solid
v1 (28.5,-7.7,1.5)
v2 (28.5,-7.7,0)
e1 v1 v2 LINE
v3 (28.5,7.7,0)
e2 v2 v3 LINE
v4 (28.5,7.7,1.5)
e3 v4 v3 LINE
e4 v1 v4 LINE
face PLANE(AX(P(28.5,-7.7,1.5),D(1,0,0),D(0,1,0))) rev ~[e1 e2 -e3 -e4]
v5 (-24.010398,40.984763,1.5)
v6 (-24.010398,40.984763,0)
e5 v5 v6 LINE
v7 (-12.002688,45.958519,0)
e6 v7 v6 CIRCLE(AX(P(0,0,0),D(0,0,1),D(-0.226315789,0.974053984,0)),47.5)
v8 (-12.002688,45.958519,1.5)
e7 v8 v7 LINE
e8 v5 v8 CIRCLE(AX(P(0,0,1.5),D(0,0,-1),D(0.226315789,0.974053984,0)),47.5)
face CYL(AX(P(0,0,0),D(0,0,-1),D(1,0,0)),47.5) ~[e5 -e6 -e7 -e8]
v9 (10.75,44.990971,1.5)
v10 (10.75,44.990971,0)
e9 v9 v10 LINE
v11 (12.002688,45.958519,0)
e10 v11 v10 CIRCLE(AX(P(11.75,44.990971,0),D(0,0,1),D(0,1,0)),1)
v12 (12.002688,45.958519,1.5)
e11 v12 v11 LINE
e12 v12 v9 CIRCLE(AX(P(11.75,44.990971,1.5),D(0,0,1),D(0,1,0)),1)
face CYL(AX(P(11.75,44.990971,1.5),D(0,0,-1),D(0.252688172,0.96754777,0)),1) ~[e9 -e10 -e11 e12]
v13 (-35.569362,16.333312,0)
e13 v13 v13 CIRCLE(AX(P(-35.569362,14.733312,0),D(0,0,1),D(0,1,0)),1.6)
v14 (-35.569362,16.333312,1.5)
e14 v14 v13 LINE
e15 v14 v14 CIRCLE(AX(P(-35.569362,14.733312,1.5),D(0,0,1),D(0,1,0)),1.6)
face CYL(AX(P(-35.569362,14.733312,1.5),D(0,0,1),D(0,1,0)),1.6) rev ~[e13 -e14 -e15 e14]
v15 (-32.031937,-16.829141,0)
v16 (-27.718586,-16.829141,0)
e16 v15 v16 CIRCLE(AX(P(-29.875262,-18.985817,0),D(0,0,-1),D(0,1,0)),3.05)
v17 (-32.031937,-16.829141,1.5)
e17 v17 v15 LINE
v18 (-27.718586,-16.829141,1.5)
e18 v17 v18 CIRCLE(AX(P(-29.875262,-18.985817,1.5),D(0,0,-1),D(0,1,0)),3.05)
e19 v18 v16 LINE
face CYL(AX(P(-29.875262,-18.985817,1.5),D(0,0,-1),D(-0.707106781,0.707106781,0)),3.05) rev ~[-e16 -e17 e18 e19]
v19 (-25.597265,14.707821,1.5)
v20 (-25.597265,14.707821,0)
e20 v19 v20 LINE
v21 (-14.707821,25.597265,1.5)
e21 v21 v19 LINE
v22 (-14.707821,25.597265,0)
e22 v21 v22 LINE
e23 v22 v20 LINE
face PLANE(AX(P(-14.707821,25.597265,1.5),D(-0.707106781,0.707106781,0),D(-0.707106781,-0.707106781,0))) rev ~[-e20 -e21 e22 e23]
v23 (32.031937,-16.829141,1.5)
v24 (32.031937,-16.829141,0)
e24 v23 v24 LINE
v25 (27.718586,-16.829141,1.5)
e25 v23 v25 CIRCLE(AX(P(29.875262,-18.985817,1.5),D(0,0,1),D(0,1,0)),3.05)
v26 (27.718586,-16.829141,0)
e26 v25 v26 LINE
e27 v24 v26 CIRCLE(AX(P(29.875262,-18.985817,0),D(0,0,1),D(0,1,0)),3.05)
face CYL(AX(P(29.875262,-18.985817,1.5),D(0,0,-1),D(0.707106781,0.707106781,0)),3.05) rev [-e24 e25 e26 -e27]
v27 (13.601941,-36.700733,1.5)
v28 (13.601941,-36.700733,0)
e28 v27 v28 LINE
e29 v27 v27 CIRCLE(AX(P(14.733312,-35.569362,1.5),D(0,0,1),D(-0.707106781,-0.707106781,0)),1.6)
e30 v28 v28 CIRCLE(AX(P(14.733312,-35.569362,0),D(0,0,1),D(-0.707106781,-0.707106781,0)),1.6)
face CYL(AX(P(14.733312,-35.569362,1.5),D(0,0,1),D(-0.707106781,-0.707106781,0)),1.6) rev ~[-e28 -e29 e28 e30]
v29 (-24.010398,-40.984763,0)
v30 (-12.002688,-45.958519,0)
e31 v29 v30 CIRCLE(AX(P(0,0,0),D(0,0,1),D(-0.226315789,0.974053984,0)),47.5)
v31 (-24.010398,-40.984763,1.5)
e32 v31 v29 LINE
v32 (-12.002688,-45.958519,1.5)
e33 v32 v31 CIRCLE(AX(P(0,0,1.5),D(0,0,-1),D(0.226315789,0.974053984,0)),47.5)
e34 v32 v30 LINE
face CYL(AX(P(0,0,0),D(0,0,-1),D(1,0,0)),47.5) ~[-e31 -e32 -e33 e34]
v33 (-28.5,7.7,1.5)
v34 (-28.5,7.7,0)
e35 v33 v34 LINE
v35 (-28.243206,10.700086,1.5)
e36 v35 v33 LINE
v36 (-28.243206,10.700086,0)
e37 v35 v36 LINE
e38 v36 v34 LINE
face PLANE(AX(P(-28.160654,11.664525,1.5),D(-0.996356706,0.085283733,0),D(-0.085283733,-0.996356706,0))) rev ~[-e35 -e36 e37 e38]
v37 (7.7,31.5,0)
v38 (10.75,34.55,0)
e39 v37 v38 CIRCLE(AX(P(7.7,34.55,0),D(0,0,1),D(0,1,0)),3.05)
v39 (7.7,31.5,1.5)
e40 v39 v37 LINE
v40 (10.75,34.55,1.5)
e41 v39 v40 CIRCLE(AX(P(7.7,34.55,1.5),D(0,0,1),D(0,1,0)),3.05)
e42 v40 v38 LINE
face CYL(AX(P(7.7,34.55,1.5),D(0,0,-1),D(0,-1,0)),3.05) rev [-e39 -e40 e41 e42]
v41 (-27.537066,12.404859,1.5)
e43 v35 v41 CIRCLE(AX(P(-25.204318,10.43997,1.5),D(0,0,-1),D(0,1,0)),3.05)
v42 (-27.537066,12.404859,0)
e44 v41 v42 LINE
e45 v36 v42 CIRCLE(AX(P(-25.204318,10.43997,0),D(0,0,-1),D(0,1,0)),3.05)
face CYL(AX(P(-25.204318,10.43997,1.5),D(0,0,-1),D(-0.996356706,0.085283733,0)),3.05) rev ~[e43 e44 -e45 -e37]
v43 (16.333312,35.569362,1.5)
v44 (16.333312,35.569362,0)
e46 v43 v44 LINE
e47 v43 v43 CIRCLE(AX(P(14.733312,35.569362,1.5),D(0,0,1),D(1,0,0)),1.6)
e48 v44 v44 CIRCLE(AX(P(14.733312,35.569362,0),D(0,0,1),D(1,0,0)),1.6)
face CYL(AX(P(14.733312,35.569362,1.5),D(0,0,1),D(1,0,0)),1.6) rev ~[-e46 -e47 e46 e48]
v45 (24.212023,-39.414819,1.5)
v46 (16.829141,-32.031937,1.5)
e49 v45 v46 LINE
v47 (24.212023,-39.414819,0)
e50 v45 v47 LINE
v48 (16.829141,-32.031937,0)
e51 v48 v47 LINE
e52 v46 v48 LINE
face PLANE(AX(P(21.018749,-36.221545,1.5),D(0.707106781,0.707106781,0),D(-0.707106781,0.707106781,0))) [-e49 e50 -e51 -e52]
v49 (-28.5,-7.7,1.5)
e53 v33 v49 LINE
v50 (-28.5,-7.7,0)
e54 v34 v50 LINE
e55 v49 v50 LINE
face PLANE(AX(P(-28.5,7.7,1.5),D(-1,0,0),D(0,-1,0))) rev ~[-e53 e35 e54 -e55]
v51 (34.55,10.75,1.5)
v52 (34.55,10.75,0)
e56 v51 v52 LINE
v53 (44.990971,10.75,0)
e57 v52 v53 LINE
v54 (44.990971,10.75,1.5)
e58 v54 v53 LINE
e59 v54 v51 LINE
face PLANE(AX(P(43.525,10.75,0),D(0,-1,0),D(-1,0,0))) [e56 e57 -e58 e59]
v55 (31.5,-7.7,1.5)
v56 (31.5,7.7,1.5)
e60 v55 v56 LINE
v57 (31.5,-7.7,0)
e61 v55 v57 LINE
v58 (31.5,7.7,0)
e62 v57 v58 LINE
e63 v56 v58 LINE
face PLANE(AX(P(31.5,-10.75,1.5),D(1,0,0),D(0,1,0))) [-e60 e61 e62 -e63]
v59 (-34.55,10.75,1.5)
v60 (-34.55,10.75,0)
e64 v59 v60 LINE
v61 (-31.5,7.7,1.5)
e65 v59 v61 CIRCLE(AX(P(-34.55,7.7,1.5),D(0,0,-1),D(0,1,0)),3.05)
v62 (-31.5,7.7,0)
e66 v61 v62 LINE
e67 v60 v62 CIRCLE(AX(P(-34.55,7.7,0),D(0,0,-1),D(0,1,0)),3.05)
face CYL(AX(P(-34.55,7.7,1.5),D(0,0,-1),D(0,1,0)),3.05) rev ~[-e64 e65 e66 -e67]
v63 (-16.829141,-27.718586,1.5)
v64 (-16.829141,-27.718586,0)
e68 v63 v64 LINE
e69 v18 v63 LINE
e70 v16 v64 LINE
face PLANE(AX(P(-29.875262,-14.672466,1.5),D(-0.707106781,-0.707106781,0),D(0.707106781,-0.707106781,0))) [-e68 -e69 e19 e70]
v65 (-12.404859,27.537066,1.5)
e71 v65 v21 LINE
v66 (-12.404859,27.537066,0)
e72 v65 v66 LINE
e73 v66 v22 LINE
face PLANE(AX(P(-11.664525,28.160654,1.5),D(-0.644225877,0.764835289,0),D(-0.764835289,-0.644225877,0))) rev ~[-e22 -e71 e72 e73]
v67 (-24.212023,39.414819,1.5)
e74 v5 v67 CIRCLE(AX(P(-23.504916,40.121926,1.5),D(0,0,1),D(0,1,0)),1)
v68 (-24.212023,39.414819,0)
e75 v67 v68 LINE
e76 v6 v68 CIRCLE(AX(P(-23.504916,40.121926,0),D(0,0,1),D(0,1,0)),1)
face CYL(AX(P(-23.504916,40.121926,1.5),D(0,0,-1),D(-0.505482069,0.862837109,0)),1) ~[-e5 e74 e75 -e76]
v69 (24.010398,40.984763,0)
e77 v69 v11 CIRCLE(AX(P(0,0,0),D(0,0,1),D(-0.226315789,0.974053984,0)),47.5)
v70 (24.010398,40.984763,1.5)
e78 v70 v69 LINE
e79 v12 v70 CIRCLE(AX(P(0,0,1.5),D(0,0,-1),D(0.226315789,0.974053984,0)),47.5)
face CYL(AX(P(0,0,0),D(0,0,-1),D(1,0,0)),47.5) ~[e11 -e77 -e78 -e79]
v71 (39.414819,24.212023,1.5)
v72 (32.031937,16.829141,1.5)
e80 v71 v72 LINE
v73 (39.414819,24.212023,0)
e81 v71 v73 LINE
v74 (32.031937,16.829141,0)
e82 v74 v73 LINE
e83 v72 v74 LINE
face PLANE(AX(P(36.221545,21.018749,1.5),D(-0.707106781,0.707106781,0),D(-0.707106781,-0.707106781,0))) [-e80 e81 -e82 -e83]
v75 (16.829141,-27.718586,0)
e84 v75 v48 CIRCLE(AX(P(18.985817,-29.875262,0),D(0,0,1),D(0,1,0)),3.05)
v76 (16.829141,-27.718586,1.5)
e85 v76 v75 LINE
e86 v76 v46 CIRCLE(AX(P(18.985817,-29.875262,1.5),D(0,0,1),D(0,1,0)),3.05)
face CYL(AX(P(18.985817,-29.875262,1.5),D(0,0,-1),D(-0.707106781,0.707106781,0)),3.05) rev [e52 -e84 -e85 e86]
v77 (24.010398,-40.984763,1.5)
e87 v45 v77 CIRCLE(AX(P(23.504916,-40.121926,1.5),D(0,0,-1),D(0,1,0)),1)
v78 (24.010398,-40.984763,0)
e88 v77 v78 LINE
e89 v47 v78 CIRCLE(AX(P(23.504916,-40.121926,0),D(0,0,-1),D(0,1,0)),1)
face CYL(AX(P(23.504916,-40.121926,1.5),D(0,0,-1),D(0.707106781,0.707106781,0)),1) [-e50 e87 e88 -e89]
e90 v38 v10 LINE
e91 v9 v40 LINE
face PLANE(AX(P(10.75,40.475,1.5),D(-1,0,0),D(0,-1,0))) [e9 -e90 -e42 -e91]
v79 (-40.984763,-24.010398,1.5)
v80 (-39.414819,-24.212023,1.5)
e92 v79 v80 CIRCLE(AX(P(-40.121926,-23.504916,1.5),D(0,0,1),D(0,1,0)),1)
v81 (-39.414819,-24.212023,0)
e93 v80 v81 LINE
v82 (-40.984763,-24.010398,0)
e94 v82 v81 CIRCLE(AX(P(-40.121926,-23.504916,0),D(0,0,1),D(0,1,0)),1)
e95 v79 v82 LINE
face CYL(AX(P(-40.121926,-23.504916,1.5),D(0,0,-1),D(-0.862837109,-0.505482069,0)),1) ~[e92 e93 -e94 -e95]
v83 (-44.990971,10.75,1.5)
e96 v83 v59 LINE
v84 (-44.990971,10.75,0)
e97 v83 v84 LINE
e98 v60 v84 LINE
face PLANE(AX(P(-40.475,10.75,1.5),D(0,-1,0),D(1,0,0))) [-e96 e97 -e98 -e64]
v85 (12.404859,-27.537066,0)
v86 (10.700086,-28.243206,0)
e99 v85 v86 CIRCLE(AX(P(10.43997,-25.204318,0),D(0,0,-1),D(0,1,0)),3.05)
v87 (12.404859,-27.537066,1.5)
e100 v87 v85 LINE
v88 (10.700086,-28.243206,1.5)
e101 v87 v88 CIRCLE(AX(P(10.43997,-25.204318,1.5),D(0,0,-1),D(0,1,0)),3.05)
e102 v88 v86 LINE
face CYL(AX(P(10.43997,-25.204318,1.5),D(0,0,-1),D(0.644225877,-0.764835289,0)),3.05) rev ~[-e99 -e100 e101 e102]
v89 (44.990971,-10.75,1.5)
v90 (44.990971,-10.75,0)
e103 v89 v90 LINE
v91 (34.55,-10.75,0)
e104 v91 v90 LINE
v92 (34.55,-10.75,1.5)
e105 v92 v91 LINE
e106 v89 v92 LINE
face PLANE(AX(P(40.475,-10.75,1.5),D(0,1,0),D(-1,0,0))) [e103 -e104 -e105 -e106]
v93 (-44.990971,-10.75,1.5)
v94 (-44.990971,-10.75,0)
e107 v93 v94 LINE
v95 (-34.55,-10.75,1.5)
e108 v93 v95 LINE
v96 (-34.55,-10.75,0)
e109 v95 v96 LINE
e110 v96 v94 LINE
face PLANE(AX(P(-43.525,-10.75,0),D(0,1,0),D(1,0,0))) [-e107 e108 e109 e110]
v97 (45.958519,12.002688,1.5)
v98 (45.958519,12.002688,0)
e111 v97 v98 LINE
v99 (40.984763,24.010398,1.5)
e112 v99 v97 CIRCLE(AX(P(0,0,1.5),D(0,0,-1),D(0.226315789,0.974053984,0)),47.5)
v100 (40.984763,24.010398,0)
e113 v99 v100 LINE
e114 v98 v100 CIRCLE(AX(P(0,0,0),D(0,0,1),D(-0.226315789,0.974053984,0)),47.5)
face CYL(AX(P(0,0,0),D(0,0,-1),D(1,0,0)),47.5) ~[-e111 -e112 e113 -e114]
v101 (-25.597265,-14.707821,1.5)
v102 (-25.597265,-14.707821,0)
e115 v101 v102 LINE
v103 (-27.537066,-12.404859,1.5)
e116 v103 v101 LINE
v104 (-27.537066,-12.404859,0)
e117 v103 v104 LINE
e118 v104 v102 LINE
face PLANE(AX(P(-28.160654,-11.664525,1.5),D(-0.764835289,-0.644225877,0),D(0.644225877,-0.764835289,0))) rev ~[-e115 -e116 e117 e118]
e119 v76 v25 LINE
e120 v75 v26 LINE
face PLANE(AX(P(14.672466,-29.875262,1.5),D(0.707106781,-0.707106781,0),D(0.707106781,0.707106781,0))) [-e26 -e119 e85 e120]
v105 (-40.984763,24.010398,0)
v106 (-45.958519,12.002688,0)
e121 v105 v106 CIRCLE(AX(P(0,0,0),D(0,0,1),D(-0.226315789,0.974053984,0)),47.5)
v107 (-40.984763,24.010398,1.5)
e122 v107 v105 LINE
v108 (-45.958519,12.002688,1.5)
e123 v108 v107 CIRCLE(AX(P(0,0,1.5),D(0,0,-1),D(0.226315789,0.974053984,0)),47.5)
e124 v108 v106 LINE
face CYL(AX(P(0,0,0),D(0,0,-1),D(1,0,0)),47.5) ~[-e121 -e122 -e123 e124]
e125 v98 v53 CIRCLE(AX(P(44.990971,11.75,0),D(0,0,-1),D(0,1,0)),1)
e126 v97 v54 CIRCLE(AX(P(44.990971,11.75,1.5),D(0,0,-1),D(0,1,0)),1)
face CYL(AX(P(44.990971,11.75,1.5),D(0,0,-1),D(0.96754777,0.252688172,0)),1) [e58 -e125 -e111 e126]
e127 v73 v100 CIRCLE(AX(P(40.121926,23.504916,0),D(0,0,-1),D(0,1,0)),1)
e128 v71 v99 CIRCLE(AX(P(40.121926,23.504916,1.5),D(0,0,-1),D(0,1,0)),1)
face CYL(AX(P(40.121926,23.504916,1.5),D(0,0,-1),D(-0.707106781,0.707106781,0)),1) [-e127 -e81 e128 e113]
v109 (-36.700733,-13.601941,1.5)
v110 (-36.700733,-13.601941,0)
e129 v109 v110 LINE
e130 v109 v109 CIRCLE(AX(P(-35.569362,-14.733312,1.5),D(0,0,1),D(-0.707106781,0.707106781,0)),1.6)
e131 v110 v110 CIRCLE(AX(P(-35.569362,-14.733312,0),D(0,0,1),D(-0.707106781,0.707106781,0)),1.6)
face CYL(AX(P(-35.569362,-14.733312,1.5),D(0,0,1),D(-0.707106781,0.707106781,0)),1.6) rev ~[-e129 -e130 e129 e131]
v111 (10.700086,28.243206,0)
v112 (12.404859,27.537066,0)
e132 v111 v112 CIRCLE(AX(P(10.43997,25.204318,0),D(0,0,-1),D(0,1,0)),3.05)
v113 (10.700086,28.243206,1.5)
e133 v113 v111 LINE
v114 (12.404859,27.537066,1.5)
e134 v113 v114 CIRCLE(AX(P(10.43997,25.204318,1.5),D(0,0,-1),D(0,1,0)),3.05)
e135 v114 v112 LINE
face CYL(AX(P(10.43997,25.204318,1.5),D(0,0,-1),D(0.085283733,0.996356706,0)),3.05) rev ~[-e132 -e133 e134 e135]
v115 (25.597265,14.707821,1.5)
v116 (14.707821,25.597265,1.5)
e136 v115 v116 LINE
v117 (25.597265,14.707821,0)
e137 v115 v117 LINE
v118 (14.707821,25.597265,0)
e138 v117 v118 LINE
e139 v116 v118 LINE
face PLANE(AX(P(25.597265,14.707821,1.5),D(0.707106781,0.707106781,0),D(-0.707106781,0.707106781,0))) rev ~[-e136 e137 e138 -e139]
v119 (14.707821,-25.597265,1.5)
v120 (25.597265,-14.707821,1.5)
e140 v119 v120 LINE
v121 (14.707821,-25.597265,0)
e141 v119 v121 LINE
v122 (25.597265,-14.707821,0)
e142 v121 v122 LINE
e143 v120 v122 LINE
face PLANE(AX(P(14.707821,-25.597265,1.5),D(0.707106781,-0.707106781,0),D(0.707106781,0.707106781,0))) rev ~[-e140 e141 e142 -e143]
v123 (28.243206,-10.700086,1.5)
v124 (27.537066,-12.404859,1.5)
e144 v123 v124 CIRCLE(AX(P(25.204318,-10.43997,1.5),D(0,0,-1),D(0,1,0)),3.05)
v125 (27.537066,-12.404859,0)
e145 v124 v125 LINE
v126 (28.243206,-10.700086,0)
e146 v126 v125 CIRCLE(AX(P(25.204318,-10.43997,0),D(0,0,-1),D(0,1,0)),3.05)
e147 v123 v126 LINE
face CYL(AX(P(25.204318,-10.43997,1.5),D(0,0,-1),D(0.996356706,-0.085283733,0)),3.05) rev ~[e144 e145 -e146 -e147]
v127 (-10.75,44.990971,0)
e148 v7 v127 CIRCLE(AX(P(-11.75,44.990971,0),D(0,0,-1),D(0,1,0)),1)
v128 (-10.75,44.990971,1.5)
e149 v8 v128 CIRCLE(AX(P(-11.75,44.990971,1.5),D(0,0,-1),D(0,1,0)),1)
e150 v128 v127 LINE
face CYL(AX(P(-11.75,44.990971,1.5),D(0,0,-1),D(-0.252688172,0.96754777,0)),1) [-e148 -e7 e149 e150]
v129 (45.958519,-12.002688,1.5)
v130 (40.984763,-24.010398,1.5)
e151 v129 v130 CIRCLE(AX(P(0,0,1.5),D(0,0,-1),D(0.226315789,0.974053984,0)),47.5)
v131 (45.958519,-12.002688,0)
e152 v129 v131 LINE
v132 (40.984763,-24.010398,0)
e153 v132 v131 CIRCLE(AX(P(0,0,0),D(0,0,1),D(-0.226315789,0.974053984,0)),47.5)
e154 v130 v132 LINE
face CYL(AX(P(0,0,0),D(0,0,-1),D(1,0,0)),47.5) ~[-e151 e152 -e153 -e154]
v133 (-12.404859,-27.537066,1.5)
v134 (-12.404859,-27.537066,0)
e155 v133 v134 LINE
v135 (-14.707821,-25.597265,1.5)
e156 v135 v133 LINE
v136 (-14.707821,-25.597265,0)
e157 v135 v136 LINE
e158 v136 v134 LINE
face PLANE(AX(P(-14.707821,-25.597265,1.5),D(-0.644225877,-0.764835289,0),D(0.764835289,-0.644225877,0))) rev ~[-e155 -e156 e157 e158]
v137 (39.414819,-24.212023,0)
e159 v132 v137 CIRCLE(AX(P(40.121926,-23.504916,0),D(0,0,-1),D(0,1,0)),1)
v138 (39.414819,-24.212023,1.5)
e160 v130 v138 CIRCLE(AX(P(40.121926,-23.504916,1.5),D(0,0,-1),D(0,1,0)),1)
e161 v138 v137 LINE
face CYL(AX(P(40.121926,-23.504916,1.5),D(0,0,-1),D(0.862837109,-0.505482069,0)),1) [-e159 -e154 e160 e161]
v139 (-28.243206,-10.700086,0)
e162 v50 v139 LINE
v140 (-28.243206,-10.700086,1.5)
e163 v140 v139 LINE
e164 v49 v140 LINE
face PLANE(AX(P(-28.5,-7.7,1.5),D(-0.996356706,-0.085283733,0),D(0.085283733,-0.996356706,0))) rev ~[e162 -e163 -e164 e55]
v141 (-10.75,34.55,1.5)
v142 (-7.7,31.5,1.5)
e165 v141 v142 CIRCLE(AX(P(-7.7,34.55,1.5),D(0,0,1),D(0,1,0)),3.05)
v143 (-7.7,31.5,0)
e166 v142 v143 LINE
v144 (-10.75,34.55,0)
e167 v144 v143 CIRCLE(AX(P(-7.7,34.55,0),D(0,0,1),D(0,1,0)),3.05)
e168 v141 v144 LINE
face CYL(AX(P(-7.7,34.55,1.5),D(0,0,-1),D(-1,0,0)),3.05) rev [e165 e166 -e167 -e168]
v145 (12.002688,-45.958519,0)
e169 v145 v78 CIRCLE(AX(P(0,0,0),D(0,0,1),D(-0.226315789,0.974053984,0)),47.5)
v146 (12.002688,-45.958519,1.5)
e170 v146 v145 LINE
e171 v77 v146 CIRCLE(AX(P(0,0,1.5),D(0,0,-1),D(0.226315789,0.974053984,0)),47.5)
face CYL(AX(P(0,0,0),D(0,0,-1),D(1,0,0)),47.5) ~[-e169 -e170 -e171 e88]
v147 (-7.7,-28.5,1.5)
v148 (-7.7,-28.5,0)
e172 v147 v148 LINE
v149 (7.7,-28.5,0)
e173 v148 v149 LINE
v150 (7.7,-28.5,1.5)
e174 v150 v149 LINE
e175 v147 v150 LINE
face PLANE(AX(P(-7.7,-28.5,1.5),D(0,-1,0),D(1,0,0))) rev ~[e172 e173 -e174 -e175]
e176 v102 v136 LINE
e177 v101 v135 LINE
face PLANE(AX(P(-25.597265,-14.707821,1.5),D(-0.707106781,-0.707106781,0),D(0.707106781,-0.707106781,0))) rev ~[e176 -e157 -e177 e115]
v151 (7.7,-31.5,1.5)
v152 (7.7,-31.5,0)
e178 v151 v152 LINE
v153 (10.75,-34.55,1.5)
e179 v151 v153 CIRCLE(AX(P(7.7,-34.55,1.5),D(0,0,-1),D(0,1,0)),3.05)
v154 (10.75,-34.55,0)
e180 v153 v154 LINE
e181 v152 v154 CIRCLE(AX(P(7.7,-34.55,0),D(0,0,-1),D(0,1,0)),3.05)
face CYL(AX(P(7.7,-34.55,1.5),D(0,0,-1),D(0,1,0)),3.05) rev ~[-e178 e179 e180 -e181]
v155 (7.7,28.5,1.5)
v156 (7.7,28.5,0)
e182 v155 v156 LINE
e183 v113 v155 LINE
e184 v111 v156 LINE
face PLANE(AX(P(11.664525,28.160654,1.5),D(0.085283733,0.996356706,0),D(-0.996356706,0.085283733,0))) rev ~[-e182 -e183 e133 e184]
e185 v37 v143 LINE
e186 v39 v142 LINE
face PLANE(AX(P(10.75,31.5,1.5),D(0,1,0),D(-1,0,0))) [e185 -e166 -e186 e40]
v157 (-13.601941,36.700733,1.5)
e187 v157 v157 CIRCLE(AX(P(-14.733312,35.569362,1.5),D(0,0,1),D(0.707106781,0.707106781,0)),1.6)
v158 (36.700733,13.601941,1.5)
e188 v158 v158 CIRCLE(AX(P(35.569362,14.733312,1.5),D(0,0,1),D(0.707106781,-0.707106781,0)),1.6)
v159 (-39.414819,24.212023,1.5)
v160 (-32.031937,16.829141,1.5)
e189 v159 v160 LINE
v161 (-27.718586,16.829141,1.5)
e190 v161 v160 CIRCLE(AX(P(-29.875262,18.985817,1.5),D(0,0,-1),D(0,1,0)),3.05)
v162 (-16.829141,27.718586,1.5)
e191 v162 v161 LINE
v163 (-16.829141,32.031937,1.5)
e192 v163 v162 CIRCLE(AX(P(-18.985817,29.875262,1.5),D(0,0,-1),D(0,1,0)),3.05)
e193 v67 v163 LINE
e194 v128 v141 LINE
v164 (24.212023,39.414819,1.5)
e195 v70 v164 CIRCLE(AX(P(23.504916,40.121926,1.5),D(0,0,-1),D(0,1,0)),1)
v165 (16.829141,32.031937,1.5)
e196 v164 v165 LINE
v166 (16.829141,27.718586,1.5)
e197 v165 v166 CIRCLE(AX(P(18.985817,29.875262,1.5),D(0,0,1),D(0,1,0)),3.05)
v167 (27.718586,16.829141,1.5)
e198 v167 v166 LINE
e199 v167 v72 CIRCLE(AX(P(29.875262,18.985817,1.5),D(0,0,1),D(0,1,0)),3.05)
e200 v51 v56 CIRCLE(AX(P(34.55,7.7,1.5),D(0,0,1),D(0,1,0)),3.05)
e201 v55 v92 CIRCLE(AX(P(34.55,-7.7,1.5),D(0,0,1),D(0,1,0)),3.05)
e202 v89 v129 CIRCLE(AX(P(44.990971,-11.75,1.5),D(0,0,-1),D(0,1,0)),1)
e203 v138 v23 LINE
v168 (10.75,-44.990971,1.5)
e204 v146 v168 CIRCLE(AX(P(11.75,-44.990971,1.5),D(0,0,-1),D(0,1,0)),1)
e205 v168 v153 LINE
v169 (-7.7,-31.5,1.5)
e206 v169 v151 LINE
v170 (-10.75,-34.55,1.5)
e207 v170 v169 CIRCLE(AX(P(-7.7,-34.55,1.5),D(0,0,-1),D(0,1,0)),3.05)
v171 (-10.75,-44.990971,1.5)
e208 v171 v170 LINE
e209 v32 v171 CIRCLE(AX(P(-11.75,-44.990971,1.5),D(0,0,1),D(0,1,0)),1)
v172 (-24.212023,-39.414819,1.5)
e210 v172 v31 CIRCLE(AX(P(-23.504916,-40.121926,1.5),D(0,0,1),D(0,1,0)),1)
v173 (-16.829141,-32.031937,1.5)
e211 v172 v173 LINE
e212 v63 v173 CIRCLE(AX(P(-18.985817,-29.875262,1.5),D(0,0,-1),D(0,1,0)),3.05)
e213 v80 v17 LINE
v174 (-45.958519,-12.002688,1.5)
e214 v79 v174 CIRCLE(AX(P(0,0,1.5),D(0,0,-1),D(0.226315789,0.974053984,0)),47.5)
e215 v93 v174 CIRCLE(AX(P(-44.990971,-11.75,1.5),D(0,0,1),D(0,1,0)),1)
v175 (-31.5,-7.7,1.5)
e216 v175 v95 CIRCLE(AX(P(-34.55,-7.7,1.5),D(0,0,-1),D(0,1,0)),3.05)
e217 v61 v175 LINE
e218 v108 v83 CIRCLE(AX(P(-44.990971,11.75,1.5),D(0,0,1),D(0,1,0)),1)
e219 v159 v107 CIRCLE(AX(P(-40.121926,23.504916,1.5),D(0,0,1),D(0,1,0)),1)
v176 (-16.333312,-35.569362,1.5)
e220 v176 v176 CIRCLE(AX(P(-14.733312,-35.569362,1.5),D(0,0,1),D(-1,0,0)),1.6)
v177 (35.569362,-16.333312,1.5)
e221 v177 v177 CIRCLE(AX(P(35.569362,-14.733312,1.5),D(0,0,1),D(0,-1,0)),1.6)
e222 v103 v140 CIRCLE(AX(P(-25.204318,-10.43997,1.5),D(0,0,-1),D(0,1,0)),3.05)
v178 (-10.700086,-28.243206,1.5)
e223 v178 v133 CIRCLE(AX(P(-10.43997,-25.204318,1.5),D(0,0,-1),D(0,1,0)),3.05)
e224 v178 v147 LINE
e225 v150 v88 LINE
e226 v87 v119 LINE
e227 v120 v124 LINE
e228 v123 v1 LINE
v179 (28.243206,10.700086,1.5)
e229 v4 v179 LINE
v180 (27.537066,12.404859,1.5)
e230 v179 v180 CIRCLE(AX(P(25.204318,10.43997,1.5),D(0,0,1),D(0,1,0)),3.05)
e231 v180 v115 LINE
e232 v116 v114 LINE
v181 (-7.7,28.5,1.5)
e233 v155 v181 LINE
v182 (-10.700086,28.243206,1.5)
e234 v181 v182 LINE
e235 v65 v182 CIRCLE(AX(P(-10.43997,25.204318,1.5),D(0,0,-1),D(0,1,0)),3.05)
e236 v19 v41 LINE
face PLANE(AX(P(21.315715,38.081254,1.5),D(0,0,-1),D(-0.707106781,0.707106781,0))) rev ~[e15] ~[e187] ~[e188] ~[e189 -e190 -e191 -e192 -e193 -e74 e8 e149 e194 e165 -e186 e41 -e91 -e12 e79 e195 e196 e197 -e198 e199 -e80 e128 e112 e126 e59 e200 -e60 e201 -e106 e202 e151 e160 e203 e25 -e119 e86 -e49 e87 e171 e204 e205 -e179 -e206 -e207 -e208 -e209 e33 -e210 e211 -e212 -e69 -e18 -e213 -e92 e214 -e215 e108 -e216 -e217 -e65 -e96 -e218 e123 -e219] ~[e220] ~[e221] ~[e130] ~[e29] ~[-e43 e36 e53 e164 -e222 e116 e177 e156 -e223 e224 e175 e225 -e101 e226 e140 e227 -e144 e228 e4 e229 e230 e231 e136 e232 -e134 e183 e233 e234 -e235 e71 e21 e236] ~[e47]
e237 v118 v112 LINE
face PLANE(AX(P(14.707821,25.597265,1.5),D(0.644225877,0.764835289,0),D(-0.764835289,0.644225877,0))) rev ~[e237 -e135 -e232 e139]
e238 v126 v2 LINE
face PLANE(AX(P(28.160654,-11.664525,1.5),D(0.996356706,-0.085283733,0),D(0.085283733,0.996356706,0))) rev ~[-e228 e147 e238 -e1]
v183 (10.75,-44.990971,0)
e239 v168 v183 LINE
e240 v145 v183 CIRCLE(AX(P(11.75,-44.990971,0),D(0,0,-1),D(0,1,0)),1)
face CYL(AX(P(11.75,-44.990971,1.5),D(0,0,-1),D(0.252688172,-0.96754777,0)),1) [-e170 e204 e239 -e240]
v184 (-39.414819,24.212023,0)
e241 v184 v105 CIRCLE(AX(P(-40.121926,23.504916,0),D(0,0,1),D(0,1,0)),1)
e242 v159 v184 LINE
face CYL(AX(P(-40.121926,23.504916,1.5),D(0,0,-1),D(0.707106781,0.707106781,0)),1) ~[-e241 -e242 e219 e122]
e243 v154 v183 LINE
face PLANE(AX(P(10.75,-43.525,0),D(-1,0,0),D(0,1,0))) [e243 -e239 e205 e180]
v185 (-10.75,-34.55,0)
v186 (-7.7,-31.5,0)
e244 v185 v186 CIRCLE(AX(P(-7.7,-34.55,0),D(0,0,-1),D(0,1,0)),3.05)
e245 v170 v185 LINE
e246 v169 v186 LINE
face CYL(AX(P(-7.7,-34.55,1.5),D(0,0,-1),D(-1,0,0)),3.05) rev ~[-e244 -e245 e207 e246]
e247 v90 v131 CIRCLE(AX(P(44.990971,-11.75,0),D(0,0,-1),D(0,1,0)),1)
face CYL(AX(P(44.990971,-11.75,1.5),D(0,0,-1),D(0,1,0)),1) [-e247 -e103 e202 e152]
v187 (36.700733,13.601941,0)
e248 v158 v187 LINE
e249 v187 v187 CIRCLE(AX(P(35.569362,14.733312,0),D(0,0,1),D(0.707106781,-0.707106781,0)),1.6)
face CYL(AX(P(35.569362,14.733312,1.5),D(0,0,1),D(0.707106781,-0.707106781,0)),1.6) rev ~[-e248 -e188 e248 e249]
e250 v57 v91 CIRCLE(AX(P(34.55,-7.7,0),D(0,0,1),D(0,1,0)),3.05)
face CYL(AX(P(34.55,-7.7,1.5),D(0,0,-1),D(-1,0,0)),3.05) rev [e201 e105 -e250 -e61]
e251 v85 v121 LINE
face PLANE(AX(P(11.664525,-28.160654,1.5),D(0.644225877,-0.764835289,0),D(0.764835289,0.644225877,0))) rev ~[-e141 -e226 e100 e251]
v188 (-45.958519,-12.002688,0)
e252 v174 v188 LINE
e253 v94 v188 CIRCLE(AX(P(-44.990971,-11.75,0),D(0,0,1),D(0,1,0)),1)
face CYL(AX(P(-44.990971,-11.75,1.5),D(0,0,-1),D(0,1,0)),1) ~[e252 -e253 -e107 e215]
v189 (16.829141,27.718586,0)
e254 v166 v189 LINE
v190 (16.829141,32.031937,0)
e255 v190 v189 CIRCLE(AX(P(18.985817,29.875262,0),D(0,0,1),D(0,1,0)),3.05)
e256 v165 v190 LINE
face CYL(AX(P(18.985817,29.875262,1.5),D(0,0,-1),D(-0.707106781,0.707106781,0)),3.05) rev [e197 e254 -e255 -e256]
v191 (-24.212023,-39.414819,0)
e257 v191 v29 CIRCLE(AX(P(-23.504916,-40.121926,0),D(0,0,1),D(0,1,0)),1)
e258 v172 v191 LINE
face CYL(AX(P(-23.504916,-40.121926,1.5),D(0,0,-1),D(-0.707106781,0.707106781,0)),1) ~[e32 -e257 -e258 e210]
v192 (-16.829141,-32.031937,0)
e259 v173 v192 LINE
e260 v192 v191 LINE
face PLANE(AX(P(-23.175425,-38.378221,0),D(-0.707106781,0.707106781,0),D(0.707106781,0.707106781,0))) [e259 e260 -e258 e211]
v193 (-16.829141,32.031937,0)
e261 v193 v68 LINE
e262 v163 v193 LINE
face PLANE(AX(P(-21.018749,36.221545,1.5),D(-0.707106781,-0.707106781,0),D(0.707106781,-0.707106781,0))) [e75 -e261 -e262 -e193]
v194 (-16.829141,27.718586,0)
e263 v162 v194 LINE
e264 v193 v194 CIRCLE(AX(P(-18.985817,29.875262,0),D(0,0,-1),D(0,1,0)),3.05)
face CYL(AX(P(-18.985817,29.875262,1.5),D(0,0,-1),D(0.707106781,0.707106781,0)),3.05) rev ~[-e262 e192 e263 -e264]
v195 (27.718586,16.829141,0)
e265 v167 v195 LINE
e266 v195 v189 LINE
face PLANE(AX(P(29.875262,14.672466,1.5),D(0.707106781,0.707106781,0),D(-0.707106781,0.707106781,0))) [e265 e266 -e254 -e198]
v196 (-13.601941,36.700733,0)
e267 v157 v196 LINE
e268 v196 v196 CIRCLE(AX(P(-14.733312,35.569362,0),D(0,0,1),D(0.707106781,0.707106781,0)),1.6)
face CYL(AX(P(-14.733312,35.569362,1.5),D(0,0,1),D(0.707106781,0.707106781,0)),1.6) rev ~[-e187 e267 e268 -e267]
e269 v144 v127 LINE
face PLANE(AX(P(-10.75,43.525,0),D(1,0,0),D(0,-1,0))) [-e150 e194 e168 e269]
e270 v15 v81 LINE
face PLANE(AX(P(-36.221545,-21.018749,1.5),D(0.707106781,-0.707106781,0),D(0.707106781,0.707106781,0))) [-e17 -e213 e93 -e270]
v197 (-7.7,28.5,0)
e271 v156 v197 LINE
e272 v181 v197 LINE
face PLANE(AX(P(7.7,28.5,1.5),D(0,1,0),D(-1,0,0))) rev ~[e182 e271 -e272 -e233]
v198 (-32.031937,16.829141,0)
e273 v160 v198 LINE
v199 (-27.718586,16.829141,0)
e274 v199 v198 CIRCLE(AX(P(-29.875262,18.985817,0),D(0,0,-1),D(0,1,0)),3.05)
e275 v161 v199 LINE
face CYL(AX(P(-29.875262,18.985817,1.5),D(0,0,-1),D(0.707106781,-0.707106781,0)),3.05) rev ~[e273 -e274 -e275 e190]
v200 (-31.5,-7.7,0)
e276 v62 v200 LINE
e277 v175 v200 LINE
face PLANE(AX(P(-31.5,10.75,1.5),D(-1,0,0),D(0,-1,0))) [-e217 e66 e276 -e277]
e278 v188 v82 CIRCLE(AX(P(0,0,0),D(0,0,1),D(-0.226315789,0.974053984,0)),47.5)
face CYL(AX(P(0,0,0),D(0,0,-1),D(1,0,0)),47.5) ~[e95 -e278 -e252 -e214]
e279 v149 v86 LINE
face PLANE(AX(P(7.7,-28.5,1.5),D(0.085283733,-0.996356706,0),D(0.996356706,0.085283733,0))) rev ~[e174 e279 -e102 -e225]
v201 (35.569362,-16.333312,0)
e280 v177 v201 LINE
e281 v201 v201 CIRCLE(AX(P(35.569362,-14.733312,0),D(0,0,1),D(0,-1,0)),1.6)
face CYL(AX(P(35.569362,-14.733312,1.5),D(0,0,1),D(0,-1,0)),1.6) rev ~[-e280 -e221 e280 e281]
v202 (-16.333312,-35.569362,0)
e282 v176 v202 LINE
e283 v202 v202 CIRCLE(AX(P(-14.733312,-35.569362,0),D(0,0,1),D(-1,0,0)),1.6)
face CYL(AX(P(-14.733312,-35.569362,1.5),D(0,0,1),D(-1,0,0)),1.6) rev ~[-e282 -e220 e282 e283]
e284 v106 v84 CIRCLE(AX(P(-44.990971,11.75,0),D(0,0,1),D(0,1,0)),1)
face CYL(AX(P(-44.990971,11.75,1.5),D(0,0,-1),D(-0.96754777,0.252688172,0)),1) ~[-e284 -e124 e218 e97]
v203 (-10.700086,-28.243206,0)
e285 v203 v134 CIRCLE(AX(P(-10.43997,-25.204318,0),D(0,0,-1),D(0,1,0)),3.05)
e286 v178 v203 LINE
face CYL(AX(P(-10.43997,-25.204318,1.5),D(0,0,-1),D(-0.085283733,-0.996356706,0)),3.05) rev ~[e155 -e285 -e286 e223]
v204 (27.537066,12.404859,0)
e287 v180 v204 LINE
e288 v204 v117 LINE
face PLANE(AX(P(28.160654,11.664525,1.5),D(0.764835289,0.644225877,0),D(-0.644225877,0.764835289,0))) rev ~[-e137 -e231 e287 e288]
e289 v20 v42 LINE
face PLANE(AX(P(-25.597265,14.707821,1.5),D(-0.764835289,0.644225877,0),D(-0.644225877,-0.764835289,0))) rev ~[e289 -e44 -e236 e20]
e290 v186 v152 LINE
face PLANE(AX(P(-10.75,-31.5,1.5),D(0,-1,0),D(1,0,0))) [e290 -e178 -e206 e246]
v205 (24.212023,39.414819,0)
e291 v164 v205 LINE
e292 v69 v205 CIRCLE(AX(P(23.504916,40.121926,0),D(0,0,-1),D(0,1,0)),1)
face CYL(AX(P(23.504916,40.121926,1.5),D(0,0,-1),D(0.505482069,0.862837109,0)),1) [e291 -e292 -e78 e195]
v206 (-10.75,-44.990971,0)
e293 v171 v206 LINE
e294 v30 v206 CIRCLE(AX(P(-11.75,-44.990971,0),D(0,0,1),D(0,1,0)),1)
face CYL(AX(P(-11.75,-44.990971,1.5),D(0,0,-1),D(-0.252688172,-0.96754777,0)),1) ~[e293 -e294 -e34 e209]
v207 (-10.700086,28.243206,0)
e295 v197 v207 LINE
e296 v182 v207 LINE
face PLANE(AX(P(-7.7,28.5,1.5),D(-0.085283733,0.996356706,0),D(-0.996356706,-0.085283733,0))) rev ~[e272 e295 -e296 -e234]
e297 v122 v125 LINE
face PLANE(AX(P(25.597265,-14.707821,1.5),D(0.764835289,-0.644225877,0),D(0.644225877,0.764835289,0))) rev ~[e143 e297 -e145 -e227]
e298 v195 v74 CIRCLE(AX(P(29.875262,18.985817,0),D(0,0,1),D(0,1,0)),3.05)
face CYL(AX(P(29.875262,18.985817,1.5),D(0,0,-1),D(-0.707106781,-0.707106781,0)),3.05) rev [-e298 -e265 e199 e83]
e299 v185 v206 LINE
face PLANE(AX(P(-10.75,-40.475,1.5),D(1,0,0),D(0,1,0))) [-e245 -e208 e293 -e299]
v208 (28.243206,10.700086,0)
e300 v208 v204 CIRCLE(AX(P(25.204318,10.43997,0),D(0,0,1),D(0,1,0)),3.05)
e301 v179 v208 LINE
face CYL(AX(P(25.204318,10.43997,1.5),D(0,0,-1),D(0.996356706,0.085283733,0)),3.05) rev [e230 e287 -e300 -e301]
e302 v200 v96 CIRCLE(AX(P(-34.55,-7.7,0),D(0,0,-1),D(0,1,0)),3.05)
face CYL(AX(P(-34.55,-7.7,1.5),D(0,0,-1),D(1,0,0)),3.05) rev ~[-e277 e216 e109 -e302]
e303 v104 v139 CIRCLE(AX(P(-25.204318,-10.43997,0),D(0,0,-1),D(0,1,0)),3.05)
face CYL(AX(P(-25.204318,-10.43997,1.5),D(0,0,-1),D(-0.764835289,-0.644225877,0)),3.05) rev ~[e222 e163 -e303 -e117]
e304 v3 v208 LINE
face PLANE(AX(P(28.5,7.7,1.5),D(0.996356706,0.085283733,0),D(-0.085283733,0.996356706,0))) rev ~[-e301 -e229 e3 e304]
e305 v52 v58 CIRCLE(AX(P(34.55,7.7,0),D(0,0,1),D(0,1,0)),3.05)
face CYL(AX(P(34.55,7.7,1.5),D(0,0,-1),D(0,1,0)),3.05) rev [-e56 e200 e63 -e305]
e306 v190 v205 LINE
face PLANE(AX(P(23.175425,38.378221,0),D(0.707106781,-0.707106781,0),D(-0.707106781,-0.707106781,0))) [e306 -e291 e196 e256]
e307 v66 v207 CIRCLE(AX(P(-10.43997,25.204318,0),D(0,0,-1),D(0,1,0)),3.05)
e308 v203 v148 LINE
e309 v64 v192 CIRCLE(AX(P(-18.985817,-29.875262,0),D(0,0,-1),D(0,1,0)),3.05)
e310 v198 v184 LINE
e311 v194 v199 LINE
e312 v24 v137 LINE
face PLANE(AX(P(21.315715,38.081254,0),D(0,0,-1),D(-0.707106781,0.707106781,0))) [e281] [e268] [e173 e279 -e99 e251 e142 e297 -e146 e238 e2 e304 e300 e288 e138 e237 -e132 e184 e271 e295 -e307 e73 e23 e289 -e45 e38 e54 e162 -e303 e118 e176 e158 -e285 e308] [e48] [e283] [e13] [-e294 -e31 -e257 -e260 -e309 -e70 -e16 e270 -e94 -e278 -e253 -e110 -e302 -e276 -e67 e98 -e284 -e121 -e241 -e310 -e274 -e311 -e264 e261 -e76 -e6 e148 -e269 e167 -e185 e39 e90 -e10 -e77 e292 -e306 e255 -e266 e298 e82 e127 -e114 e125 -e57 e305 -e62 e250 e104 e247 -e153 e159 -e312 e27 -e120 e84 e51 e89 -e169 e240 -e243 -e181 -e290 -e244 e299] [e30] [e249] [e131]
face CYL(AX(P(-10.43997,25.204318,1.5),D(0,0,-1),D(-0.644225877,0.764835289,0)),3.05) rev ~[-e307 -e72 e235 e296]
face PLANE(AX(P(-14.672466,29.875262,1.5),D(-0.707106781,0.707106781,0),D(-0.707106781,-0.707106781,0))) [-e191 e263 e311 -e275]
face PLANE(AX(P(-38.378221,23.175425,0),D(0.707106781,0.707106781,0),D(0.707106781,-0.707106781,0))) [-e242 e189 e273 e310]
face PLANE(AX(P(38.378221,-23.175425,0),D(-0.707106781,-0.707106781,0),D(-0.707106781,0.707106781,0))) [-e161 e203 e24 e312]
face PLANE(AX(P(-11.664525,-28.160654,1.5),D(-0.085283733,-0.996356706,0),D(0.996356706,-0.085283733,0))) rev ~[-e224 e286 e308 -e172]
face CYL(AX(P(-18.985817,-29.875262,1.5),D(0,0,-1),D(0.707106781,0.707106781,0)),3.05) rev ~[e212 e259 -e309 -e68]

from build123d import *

# Parameters (mm, degrees)
SKETCH_1_R                       = 47.5
EXTRUDE_1_DEPTH                  = 1.5
CUT_EXTRUDE_1_DEPTH              = 68.191889392
CUT_EXTRUDE_2_DEPTH              = 68.191889392
CUT_EXTRUDE_2_DEPTH_BACK         = 68.191889392
SKETCH_3_R                       = 3.1
SKETCH_3_R_2                     = 1.6
SKETCH_4_R                       = 1.6
CUT_EXTRUDE_3_DEPTH              = 68.191889392
CUT_EXTRUDE_4_DEPTH              = 68.191889392
FILLET_1_R                       = 1
FILLET_2_R                       = 0.2
FILLET_3_R                       = 3.05
PATTERN_CIRCULAR_1_COUNT         = 8
FILLET_1_OF_PATTERN_CIRCULAR_1_R = 1
FILLET_2_OF_PATTERN_CIRCULAR_1_R = 0.2
FILLET_3_OF_PATTERN_CIRCULAR_1_R = 3.05
CUT_EXTRUDE_5_DEPTH              = 66.05834985
EXTRUDE_START                    = -1.5
EXTRUDE_2_DEPTH                  = 1.5
FILLET_4_R                       = 3.05
PATTERN_CIRCULAR_2_COUNT         = 8


with BuildPart() as part:
    # ｽｹｯﾁ1 → ﾎﾞｽ - 押し出し1 (new body)
    with BuildSketch(Plane.XY):
        Circle(SKETCH_1_R)
    extrude(amount=EXTRUDE_1_DEPTH)

    # ｽｹｯﾁ2 → ｶｯﾄ - 押し出し1 (cut, through all)
    with BuildSketch(Plane.XY.offset(1.5)):
        Polygon((-10.75, 43.525), (-10.75, 52.5), (10.75, 52.5), (10.75, 43.525), (13, 43.525), (13, 40.475), (10.75, 40.475), (10.75, 31.5), (-10.75, 31.5), (-10.75, 40.475), (-13, 40.475), (-13, 43.525), align=None)
    cut_extrude_1 = extrude(amount=-CUT_EXTRUDE_1_DEPTH, mode=Mode.SUBTRACT)

    # ｽｹｯﾁ3 → ｶｯﾄ - 押し出し2 (cut, two sides: drawn at the far end of the back side and taken through both)
    with BuildSketch(Plane.XY.offset(1.5).offset(-CUT_EXTRUDE_2_DEPTH_BACK)):
        Circle(SKETCH_3_R)
        with Locations((0, 6.5)):
            Circle(SKETCH_3_R_2)
        with Locations((6.5, 0)):
            Circle(SKETCH_3_R_2)
        with Locations((0, -6.5)):
            Circle(SKETCH_3_R_2)
        with Locations((-6.5, 0)):
            Circle(SKETCH_3_R_2)
        with Locations((8.838834765, 8.838834765)):
            Circle(SKETCH_3_R_2)
        with Locations((8.838834765, -8.838834765)):
            Circle(SKETCH_3_R_2)
        with Locations((-8.838834765, -8.838834765)):
            Circle(SKETCH_3_R_2)
        with Locations((-8.838834765, 8.838834765)):
            Circle(SKETCH_3_R_2)
    extrude(amount=CUT_EXTRUDE_2_DEPTH + CUT_EXTRUDE_2_DEPTH_BACK, mode=Mode.SUBTRACT)

    # ｽｹｯﾁ4 → ｶｯﾄ - 押し出し3 (cut, through all)
    with BuildSketch(Plane.XY.offset(1.5)):
        with Locations((14.733312146, 35.569362002)):
            Circle(SKETCH_4_R)
        with Locations((8.610377228, 20.787289482)):
            Circle(SKETCH_4_R)
    cut_extrude_3 = extrude(amount=-CUT_EXTRUDE_3_DEPTH, mode=Mode.SUBTRACT)

    # ｽｹｯﾁ5 → ｶｯﾄ - 押し出し4 (cut, symmetric)
    with BuildSketch(Plane.XY.offset(1.5)):
        Polygon((-7.188286702, 26.5), (7.188286702, 26.5), (3.328075632, 17.180626082), (-3.328075632, 17.180626082), align=None)
    cut_extrude_4 = extrude(amount=CUT_EXTRUDE_4_DEPTH, both=True, mode=Mode.SUBTRACT)

    # ﾌｨﾚｯﾄ1
    fillet_1_edges = [part.edges().sort_by_distance(p)[0] for p in [
        (7.188286702, 26.5, 0.75),
        (3.328075632, 17.180626082, 0.75),
        (-3.328075632, 17.180626082, 0.75),
        (-7.188286702, 26.5, 0.75),
        (10.75, 46.267564232, 0.75),
        (-10.75, 46.267564232, 0.75),
    ]]
    fillet(fillet_1_edges, radius=FILLET_1_R)

    # ﾌｨﾚｯﾄ2
    fillet_2_edges = [part.edges().sort_by_distance(p)[0] for p in [
        (13, 43.525, 0.75),
        (13, 40.475, 0.75),
        (-13, 40.475, 0.75),
        (-13, 43.525, 0.75),
    ]]
    fillet(fillet_2_edges, radius=FILLET_2_R)

    # ﾌｨﾚｯﾄ3
    fillet_3_edges = [part.edges().sort_by_distance(p)[0] for p in [
        (10.75, 31.5, 0.75),
        (-10.75, 31.5, 0.75),
    ]]
    fillet(fillet_3_edges, radius=FILLET_3_R)

    # 円形ﾊﾟﾀｰﾝ1: ｶｯﾄ - 押し出し1, ｶｯﾄ - 押し出し3, ｶｯﾄ - 押し出し4 ×8 about axis
    pattern_circular_1_axis = Axis((0, 0, 0), (0, 0, 1))
    add([cut_extrude_1.rotate(pattern_circular_1_axis, i * 360 / PATTERN_CIRCULAR_1_COUNT) for i in range(1, PATTERN_CIRCULAR_1_COUNT)], mode=Mode.SUBTRACT)
    add([cut_extrude_3.rotate(pattern_circular_1_axis, i * 360 / PATTERN_CIRCULAR_1_COUNT) for i in range(1, PATTERN_CIRCULAR_1_COUNT)], mode=Mode.SUBTRACT)
    add([cut_extrude_4.rotate(pattern_circular_1_axis, i * 360 / PATTERN_CIRCULAR_1_COUNT) for i in range(1, PATTERN_CIRCULAR_1_COUNT)], mode=Mode.SUBTRACT)

    # ﾌｨﾚｯﾄ1 of 円形ﾊﾟﾀｰﾝ1
    fillet_1_of_pattern_circular_1_edges = [part.edges().sort_by_distance(p)[0] for p in [
        (-13.655443429, 23.821215973, 0.75),
        (-9.79523236, 14.501842056, 0.75),
        (-14.501842056, 9.79523236, 0.75),
        (-23.821215973, 13.655443429, 0.75),
        (-25.11471052, 40.317506315, 0.75),
        (-40.317506315, 25.11471052, 0.75),
        (-26.5, 7.188286702, 0.75),
        (-17.180626082, 3.328075632, 0.75),
        (-17.180626082, -3.328075632, 0.75),
        (-26.5, -7.188286702, 0.75),
        (-46.267564232, 10.75, 0.75),
        (-46.267564232, -10.75, 0.75),
        (-23.821215973, -13.655443429, 0.75),
        (-14.501842056, -9.79523236, 0.75),
        (-9.79523236, -14.501842056, 0.75),
        (-13.655443429, -23.821215973, 0.75),
        (-40.317506315, -25.11471052, 0.75),
        (-25.11471052, -40.317506315, 0.75),
        (-7.188286702, -26.5, 0.75),
        (-3.328075632, -17.180626082, 0.75),
        (3.328075632, -17.180626082, 0.75),
        (7.188286702, -26.5, 0.75),
        (-10.75, -46.267564232, 0.75),
        (10.75, -46.267564232, 0.75),
        (13.655443429, -23.821215973, 0.75),
        (9.79523236, -14.501842056, 0.75),
        (14.501842056, -9.79523236, 0.75),
        (23.821215973, -13.655443429, 0.75),
        (25.11471052, -40.317506315, 0.75),
        (40.317506315, -25.11471052, 0.75),
        (26.5, -7.188286702, 0.75),
        (17.180626082, -3.328075632, 0.75),
        (17.180626082, 3.328075632, 0.75),
        (26.5, 7.188286702, 0.75),
        (46.267564232, -10.75, 0.75),
        (46.267564232, 10.75, 0.75),
        (23.821215973, 13.655443429, 0.75),
        (14.501842056, 9.79523236, 0.75),
        (9.79523236, 14.501842056, 0.75),
        (13.655443429, 23.821215973, 0.75),
        (40.317506315, 25.11471052, 0.75),
        (25.11471052, 40.317506315, 0.75),
    ]]
    fillet(fillet_1_of_pattern_circular_1_edges, radius=FILLET_1_OF_PATTERN_CIRCULAR_1_R)

    # ﾌｨﾚｯﾄ2 of 円形ﾊﾟﾀｰﾝ1
    fillet_2_of_pattern_circular_1_edges = [part.edges().sort_by_distance(p)[0] for p in [
        (-21.584434496, 39.969210807, 0.75),
        (-19.427758813, 37.812535124, 0.75),
        (-37.812535124, 19.427758813, 0.75),
        (-39.969210807, 21.584434496, 0.75),
        (-43.525, 13, 0.75),
        (-40.475, 13, 0.75),
        (-40.475, -13, 0.75),
        (-43.525, -13, 0.75),
        (-39.969210807, -21.584434496, 0.75),
        (-37.812535124, -19.427758813, 0.75),
        (-19.427758813, -37.812535124, 0.75),
        (-21.584434496, -39.969210807, 0.75),
        (-13, -43.525, 0.75),
        (-13, -40.475, 0.75),
        (13, -40.475, 0.75),
        (13, -43.525, 0.75),
        (21.584434496, -39.969210807, 0.75),
        (19.427758813, -37.812535124, 0.75),
        (37.812535124, -19.427758813, 0.75),
        (39.969210807, -21.584434496, 0.75),
        (43.525, -13, 0.75),
        (40.475, -13, 0.75),
        (40.475, 13, 0.75),
        (43.525, 13, 0.75),
        (39.969210807, 21.584434496, 0.75),
        (37.812535124, 19.427758813, 0.75),
        (19.427758813, 37.812535124, 0.75),
        (21.584434496, 39.969210807, 0.75),
    ]]
    fillet(fillet_2_of_pattern_circular_1_edges, radius=FILLET_2_OF_PATTERN_CIRCULAR_1_R)

    # ﾌｨﾚｯﾄ3 of 円形ﾊﾟﾀｰﾝ1
    fillet_3_of_pattern_circular_1_edges = [part.edges().sort_by_distance(p)[0] for p in [
        (-14.67246571, 29.875261505, 0.75),
        (-29.875261505, 14.67246571, 0.75),
        (-31.5, 10.75, 0.75),
        (-31.5, -10.75, 0.75),
        (-29.875261505, -14.67246571, 0.75),
        (-14.67246571, -29.875261505, 0.75),
        (-10.75, -31.5, 0.75),
        (10.75, -31.5, 0.75),
        (14.67246571, -29.875261505, 0.75),
        (29.875261505, -14.67246571, 0.75),
        (31.5, -10.75, 0.75),
        (31.5, 10.75, 0.75),
        (29.875261505, 14.67246571, 0.75),
        (14.67246571, 29.875261505, 0.75),
    ]]
    fillet(fillet_3_of_pattern_circular_1_edges, radius=FILLET_3_OF_PATTERN_CIRCULAR_1_R)

    # ｽｹｯﾁ6 → ｶｯﾄ - 押し出し5 (cut, through all)
    with BuildSketch(Plane.XY.offset(1.5)):
        Polygon((11.664524887, 28.160654182), (7.7, 28.5), (-7.7, 28.5), (-11.664524887, 28.160654182), (-14.707821049, 25.597265479), (-25.597265479, 14.707821049), (-28.160654182, 11.664524887), (-28.5, 7.7), (-28.5, -7.7), (-28.160654182, -11.664524887), (-25.597265479, -14.707821049), (-14.707821049, -25.597265479), (-11.664524887, -28.160654182), (-7.7, -28.5), (7.7, -28.5), (11.664524887, -28.160654182), (14.707821049, -25.597265479), (25.597265479, -14.707821049), (28.160654182, -11.664524887), (28.5, -7.7), (28.5, 7.7), (28.160654182, 11.664524887), (25.597265479, 14.707821049), (14.707821049, 25.597265479), align=None)
    extrude(amount=-CUT_EXTRUDE_5_DEPTH, mode=Mode.SUBTRACT)

    # ｽｹｯﾁ7 → ﾎﾞｽ - 押し出し2 (add)
    with BuildSketch(Plane.XY.offset(1.5).offset(EXTRUDE_START)):
        with BuildLine():
            Line((-12.8, 43.525), (-10.75, 43.525))
            Line((-10.75, 43.525), (-10.75, 40.475))
            Line((-10.75, 40.475), (-12.8, 40.475))
            ThreePointArc((-12.8, 40.475), (-12.941421356, 40.533578644), (-13, 40.675))
            Line((-13, 40.675), (-13, 43.325))
            ThreePointArc((-13, 43.325), (-12.941421356, 43.466421356), (-12.8, 43.525))
        make_face()
        with BuildLine():
            Line((12.8, 40.475), (10.75, 40.475))
            Line((10.75, 40.475), (10.75, 43.525))
            Line((10.75, 43.525), (12.8, 43.525))
            ThreePointArc((12.8, 43.525), (12.941421356, 43.466421356), (13, 43.325))
            Line((13, 43.325), (13, 40.675))
            ThreePointArc((13, 40.675), (12.941421356, 40.533578644), (12.8, 40.475))
        make_face()
    extrude_2 = extrude(amount=EXTRUDE_2_DEPTH)

    # ﾌｨﾚｯﾄ4
    fillet_4_edges = [part.edges().sort_by_distance(p)[0] for p in [
        (-11.664524887, 28.160654182, 0.75),
        (11.664524887, 28.160654182, 0.75),
        (28.160654182, 11.664524887, 0.75),
        (28.160654182, -11.664524887, 0.75),
        (11.664524887, -28.160654182, 0.75),
        (-11.664524887, -28.160654182, 0.75),
        (-28.160654182, -11.664524887, 0.75),
        (-28.160654182, 11.664524887, 0.75),
    ]]
    fillet(fillet_4_edges, radius=FILLET_4_R)

    # 円形ﾊﾟﾀｰﾝ2: ﾎﾞｽ - 押し出し2 ×8 about axis
    pattern_circular_2_axis = Axis((0, 0, 0), (0, 0, 1))
    for i in range(1, PATTERN_CIRCULAR_2_COUNT):
        add(extrude_2.rotate(pattern_circular_2_axis, i * 360 / PATTERN_CIRCULAR_2_COUNT))


solid = part.part
